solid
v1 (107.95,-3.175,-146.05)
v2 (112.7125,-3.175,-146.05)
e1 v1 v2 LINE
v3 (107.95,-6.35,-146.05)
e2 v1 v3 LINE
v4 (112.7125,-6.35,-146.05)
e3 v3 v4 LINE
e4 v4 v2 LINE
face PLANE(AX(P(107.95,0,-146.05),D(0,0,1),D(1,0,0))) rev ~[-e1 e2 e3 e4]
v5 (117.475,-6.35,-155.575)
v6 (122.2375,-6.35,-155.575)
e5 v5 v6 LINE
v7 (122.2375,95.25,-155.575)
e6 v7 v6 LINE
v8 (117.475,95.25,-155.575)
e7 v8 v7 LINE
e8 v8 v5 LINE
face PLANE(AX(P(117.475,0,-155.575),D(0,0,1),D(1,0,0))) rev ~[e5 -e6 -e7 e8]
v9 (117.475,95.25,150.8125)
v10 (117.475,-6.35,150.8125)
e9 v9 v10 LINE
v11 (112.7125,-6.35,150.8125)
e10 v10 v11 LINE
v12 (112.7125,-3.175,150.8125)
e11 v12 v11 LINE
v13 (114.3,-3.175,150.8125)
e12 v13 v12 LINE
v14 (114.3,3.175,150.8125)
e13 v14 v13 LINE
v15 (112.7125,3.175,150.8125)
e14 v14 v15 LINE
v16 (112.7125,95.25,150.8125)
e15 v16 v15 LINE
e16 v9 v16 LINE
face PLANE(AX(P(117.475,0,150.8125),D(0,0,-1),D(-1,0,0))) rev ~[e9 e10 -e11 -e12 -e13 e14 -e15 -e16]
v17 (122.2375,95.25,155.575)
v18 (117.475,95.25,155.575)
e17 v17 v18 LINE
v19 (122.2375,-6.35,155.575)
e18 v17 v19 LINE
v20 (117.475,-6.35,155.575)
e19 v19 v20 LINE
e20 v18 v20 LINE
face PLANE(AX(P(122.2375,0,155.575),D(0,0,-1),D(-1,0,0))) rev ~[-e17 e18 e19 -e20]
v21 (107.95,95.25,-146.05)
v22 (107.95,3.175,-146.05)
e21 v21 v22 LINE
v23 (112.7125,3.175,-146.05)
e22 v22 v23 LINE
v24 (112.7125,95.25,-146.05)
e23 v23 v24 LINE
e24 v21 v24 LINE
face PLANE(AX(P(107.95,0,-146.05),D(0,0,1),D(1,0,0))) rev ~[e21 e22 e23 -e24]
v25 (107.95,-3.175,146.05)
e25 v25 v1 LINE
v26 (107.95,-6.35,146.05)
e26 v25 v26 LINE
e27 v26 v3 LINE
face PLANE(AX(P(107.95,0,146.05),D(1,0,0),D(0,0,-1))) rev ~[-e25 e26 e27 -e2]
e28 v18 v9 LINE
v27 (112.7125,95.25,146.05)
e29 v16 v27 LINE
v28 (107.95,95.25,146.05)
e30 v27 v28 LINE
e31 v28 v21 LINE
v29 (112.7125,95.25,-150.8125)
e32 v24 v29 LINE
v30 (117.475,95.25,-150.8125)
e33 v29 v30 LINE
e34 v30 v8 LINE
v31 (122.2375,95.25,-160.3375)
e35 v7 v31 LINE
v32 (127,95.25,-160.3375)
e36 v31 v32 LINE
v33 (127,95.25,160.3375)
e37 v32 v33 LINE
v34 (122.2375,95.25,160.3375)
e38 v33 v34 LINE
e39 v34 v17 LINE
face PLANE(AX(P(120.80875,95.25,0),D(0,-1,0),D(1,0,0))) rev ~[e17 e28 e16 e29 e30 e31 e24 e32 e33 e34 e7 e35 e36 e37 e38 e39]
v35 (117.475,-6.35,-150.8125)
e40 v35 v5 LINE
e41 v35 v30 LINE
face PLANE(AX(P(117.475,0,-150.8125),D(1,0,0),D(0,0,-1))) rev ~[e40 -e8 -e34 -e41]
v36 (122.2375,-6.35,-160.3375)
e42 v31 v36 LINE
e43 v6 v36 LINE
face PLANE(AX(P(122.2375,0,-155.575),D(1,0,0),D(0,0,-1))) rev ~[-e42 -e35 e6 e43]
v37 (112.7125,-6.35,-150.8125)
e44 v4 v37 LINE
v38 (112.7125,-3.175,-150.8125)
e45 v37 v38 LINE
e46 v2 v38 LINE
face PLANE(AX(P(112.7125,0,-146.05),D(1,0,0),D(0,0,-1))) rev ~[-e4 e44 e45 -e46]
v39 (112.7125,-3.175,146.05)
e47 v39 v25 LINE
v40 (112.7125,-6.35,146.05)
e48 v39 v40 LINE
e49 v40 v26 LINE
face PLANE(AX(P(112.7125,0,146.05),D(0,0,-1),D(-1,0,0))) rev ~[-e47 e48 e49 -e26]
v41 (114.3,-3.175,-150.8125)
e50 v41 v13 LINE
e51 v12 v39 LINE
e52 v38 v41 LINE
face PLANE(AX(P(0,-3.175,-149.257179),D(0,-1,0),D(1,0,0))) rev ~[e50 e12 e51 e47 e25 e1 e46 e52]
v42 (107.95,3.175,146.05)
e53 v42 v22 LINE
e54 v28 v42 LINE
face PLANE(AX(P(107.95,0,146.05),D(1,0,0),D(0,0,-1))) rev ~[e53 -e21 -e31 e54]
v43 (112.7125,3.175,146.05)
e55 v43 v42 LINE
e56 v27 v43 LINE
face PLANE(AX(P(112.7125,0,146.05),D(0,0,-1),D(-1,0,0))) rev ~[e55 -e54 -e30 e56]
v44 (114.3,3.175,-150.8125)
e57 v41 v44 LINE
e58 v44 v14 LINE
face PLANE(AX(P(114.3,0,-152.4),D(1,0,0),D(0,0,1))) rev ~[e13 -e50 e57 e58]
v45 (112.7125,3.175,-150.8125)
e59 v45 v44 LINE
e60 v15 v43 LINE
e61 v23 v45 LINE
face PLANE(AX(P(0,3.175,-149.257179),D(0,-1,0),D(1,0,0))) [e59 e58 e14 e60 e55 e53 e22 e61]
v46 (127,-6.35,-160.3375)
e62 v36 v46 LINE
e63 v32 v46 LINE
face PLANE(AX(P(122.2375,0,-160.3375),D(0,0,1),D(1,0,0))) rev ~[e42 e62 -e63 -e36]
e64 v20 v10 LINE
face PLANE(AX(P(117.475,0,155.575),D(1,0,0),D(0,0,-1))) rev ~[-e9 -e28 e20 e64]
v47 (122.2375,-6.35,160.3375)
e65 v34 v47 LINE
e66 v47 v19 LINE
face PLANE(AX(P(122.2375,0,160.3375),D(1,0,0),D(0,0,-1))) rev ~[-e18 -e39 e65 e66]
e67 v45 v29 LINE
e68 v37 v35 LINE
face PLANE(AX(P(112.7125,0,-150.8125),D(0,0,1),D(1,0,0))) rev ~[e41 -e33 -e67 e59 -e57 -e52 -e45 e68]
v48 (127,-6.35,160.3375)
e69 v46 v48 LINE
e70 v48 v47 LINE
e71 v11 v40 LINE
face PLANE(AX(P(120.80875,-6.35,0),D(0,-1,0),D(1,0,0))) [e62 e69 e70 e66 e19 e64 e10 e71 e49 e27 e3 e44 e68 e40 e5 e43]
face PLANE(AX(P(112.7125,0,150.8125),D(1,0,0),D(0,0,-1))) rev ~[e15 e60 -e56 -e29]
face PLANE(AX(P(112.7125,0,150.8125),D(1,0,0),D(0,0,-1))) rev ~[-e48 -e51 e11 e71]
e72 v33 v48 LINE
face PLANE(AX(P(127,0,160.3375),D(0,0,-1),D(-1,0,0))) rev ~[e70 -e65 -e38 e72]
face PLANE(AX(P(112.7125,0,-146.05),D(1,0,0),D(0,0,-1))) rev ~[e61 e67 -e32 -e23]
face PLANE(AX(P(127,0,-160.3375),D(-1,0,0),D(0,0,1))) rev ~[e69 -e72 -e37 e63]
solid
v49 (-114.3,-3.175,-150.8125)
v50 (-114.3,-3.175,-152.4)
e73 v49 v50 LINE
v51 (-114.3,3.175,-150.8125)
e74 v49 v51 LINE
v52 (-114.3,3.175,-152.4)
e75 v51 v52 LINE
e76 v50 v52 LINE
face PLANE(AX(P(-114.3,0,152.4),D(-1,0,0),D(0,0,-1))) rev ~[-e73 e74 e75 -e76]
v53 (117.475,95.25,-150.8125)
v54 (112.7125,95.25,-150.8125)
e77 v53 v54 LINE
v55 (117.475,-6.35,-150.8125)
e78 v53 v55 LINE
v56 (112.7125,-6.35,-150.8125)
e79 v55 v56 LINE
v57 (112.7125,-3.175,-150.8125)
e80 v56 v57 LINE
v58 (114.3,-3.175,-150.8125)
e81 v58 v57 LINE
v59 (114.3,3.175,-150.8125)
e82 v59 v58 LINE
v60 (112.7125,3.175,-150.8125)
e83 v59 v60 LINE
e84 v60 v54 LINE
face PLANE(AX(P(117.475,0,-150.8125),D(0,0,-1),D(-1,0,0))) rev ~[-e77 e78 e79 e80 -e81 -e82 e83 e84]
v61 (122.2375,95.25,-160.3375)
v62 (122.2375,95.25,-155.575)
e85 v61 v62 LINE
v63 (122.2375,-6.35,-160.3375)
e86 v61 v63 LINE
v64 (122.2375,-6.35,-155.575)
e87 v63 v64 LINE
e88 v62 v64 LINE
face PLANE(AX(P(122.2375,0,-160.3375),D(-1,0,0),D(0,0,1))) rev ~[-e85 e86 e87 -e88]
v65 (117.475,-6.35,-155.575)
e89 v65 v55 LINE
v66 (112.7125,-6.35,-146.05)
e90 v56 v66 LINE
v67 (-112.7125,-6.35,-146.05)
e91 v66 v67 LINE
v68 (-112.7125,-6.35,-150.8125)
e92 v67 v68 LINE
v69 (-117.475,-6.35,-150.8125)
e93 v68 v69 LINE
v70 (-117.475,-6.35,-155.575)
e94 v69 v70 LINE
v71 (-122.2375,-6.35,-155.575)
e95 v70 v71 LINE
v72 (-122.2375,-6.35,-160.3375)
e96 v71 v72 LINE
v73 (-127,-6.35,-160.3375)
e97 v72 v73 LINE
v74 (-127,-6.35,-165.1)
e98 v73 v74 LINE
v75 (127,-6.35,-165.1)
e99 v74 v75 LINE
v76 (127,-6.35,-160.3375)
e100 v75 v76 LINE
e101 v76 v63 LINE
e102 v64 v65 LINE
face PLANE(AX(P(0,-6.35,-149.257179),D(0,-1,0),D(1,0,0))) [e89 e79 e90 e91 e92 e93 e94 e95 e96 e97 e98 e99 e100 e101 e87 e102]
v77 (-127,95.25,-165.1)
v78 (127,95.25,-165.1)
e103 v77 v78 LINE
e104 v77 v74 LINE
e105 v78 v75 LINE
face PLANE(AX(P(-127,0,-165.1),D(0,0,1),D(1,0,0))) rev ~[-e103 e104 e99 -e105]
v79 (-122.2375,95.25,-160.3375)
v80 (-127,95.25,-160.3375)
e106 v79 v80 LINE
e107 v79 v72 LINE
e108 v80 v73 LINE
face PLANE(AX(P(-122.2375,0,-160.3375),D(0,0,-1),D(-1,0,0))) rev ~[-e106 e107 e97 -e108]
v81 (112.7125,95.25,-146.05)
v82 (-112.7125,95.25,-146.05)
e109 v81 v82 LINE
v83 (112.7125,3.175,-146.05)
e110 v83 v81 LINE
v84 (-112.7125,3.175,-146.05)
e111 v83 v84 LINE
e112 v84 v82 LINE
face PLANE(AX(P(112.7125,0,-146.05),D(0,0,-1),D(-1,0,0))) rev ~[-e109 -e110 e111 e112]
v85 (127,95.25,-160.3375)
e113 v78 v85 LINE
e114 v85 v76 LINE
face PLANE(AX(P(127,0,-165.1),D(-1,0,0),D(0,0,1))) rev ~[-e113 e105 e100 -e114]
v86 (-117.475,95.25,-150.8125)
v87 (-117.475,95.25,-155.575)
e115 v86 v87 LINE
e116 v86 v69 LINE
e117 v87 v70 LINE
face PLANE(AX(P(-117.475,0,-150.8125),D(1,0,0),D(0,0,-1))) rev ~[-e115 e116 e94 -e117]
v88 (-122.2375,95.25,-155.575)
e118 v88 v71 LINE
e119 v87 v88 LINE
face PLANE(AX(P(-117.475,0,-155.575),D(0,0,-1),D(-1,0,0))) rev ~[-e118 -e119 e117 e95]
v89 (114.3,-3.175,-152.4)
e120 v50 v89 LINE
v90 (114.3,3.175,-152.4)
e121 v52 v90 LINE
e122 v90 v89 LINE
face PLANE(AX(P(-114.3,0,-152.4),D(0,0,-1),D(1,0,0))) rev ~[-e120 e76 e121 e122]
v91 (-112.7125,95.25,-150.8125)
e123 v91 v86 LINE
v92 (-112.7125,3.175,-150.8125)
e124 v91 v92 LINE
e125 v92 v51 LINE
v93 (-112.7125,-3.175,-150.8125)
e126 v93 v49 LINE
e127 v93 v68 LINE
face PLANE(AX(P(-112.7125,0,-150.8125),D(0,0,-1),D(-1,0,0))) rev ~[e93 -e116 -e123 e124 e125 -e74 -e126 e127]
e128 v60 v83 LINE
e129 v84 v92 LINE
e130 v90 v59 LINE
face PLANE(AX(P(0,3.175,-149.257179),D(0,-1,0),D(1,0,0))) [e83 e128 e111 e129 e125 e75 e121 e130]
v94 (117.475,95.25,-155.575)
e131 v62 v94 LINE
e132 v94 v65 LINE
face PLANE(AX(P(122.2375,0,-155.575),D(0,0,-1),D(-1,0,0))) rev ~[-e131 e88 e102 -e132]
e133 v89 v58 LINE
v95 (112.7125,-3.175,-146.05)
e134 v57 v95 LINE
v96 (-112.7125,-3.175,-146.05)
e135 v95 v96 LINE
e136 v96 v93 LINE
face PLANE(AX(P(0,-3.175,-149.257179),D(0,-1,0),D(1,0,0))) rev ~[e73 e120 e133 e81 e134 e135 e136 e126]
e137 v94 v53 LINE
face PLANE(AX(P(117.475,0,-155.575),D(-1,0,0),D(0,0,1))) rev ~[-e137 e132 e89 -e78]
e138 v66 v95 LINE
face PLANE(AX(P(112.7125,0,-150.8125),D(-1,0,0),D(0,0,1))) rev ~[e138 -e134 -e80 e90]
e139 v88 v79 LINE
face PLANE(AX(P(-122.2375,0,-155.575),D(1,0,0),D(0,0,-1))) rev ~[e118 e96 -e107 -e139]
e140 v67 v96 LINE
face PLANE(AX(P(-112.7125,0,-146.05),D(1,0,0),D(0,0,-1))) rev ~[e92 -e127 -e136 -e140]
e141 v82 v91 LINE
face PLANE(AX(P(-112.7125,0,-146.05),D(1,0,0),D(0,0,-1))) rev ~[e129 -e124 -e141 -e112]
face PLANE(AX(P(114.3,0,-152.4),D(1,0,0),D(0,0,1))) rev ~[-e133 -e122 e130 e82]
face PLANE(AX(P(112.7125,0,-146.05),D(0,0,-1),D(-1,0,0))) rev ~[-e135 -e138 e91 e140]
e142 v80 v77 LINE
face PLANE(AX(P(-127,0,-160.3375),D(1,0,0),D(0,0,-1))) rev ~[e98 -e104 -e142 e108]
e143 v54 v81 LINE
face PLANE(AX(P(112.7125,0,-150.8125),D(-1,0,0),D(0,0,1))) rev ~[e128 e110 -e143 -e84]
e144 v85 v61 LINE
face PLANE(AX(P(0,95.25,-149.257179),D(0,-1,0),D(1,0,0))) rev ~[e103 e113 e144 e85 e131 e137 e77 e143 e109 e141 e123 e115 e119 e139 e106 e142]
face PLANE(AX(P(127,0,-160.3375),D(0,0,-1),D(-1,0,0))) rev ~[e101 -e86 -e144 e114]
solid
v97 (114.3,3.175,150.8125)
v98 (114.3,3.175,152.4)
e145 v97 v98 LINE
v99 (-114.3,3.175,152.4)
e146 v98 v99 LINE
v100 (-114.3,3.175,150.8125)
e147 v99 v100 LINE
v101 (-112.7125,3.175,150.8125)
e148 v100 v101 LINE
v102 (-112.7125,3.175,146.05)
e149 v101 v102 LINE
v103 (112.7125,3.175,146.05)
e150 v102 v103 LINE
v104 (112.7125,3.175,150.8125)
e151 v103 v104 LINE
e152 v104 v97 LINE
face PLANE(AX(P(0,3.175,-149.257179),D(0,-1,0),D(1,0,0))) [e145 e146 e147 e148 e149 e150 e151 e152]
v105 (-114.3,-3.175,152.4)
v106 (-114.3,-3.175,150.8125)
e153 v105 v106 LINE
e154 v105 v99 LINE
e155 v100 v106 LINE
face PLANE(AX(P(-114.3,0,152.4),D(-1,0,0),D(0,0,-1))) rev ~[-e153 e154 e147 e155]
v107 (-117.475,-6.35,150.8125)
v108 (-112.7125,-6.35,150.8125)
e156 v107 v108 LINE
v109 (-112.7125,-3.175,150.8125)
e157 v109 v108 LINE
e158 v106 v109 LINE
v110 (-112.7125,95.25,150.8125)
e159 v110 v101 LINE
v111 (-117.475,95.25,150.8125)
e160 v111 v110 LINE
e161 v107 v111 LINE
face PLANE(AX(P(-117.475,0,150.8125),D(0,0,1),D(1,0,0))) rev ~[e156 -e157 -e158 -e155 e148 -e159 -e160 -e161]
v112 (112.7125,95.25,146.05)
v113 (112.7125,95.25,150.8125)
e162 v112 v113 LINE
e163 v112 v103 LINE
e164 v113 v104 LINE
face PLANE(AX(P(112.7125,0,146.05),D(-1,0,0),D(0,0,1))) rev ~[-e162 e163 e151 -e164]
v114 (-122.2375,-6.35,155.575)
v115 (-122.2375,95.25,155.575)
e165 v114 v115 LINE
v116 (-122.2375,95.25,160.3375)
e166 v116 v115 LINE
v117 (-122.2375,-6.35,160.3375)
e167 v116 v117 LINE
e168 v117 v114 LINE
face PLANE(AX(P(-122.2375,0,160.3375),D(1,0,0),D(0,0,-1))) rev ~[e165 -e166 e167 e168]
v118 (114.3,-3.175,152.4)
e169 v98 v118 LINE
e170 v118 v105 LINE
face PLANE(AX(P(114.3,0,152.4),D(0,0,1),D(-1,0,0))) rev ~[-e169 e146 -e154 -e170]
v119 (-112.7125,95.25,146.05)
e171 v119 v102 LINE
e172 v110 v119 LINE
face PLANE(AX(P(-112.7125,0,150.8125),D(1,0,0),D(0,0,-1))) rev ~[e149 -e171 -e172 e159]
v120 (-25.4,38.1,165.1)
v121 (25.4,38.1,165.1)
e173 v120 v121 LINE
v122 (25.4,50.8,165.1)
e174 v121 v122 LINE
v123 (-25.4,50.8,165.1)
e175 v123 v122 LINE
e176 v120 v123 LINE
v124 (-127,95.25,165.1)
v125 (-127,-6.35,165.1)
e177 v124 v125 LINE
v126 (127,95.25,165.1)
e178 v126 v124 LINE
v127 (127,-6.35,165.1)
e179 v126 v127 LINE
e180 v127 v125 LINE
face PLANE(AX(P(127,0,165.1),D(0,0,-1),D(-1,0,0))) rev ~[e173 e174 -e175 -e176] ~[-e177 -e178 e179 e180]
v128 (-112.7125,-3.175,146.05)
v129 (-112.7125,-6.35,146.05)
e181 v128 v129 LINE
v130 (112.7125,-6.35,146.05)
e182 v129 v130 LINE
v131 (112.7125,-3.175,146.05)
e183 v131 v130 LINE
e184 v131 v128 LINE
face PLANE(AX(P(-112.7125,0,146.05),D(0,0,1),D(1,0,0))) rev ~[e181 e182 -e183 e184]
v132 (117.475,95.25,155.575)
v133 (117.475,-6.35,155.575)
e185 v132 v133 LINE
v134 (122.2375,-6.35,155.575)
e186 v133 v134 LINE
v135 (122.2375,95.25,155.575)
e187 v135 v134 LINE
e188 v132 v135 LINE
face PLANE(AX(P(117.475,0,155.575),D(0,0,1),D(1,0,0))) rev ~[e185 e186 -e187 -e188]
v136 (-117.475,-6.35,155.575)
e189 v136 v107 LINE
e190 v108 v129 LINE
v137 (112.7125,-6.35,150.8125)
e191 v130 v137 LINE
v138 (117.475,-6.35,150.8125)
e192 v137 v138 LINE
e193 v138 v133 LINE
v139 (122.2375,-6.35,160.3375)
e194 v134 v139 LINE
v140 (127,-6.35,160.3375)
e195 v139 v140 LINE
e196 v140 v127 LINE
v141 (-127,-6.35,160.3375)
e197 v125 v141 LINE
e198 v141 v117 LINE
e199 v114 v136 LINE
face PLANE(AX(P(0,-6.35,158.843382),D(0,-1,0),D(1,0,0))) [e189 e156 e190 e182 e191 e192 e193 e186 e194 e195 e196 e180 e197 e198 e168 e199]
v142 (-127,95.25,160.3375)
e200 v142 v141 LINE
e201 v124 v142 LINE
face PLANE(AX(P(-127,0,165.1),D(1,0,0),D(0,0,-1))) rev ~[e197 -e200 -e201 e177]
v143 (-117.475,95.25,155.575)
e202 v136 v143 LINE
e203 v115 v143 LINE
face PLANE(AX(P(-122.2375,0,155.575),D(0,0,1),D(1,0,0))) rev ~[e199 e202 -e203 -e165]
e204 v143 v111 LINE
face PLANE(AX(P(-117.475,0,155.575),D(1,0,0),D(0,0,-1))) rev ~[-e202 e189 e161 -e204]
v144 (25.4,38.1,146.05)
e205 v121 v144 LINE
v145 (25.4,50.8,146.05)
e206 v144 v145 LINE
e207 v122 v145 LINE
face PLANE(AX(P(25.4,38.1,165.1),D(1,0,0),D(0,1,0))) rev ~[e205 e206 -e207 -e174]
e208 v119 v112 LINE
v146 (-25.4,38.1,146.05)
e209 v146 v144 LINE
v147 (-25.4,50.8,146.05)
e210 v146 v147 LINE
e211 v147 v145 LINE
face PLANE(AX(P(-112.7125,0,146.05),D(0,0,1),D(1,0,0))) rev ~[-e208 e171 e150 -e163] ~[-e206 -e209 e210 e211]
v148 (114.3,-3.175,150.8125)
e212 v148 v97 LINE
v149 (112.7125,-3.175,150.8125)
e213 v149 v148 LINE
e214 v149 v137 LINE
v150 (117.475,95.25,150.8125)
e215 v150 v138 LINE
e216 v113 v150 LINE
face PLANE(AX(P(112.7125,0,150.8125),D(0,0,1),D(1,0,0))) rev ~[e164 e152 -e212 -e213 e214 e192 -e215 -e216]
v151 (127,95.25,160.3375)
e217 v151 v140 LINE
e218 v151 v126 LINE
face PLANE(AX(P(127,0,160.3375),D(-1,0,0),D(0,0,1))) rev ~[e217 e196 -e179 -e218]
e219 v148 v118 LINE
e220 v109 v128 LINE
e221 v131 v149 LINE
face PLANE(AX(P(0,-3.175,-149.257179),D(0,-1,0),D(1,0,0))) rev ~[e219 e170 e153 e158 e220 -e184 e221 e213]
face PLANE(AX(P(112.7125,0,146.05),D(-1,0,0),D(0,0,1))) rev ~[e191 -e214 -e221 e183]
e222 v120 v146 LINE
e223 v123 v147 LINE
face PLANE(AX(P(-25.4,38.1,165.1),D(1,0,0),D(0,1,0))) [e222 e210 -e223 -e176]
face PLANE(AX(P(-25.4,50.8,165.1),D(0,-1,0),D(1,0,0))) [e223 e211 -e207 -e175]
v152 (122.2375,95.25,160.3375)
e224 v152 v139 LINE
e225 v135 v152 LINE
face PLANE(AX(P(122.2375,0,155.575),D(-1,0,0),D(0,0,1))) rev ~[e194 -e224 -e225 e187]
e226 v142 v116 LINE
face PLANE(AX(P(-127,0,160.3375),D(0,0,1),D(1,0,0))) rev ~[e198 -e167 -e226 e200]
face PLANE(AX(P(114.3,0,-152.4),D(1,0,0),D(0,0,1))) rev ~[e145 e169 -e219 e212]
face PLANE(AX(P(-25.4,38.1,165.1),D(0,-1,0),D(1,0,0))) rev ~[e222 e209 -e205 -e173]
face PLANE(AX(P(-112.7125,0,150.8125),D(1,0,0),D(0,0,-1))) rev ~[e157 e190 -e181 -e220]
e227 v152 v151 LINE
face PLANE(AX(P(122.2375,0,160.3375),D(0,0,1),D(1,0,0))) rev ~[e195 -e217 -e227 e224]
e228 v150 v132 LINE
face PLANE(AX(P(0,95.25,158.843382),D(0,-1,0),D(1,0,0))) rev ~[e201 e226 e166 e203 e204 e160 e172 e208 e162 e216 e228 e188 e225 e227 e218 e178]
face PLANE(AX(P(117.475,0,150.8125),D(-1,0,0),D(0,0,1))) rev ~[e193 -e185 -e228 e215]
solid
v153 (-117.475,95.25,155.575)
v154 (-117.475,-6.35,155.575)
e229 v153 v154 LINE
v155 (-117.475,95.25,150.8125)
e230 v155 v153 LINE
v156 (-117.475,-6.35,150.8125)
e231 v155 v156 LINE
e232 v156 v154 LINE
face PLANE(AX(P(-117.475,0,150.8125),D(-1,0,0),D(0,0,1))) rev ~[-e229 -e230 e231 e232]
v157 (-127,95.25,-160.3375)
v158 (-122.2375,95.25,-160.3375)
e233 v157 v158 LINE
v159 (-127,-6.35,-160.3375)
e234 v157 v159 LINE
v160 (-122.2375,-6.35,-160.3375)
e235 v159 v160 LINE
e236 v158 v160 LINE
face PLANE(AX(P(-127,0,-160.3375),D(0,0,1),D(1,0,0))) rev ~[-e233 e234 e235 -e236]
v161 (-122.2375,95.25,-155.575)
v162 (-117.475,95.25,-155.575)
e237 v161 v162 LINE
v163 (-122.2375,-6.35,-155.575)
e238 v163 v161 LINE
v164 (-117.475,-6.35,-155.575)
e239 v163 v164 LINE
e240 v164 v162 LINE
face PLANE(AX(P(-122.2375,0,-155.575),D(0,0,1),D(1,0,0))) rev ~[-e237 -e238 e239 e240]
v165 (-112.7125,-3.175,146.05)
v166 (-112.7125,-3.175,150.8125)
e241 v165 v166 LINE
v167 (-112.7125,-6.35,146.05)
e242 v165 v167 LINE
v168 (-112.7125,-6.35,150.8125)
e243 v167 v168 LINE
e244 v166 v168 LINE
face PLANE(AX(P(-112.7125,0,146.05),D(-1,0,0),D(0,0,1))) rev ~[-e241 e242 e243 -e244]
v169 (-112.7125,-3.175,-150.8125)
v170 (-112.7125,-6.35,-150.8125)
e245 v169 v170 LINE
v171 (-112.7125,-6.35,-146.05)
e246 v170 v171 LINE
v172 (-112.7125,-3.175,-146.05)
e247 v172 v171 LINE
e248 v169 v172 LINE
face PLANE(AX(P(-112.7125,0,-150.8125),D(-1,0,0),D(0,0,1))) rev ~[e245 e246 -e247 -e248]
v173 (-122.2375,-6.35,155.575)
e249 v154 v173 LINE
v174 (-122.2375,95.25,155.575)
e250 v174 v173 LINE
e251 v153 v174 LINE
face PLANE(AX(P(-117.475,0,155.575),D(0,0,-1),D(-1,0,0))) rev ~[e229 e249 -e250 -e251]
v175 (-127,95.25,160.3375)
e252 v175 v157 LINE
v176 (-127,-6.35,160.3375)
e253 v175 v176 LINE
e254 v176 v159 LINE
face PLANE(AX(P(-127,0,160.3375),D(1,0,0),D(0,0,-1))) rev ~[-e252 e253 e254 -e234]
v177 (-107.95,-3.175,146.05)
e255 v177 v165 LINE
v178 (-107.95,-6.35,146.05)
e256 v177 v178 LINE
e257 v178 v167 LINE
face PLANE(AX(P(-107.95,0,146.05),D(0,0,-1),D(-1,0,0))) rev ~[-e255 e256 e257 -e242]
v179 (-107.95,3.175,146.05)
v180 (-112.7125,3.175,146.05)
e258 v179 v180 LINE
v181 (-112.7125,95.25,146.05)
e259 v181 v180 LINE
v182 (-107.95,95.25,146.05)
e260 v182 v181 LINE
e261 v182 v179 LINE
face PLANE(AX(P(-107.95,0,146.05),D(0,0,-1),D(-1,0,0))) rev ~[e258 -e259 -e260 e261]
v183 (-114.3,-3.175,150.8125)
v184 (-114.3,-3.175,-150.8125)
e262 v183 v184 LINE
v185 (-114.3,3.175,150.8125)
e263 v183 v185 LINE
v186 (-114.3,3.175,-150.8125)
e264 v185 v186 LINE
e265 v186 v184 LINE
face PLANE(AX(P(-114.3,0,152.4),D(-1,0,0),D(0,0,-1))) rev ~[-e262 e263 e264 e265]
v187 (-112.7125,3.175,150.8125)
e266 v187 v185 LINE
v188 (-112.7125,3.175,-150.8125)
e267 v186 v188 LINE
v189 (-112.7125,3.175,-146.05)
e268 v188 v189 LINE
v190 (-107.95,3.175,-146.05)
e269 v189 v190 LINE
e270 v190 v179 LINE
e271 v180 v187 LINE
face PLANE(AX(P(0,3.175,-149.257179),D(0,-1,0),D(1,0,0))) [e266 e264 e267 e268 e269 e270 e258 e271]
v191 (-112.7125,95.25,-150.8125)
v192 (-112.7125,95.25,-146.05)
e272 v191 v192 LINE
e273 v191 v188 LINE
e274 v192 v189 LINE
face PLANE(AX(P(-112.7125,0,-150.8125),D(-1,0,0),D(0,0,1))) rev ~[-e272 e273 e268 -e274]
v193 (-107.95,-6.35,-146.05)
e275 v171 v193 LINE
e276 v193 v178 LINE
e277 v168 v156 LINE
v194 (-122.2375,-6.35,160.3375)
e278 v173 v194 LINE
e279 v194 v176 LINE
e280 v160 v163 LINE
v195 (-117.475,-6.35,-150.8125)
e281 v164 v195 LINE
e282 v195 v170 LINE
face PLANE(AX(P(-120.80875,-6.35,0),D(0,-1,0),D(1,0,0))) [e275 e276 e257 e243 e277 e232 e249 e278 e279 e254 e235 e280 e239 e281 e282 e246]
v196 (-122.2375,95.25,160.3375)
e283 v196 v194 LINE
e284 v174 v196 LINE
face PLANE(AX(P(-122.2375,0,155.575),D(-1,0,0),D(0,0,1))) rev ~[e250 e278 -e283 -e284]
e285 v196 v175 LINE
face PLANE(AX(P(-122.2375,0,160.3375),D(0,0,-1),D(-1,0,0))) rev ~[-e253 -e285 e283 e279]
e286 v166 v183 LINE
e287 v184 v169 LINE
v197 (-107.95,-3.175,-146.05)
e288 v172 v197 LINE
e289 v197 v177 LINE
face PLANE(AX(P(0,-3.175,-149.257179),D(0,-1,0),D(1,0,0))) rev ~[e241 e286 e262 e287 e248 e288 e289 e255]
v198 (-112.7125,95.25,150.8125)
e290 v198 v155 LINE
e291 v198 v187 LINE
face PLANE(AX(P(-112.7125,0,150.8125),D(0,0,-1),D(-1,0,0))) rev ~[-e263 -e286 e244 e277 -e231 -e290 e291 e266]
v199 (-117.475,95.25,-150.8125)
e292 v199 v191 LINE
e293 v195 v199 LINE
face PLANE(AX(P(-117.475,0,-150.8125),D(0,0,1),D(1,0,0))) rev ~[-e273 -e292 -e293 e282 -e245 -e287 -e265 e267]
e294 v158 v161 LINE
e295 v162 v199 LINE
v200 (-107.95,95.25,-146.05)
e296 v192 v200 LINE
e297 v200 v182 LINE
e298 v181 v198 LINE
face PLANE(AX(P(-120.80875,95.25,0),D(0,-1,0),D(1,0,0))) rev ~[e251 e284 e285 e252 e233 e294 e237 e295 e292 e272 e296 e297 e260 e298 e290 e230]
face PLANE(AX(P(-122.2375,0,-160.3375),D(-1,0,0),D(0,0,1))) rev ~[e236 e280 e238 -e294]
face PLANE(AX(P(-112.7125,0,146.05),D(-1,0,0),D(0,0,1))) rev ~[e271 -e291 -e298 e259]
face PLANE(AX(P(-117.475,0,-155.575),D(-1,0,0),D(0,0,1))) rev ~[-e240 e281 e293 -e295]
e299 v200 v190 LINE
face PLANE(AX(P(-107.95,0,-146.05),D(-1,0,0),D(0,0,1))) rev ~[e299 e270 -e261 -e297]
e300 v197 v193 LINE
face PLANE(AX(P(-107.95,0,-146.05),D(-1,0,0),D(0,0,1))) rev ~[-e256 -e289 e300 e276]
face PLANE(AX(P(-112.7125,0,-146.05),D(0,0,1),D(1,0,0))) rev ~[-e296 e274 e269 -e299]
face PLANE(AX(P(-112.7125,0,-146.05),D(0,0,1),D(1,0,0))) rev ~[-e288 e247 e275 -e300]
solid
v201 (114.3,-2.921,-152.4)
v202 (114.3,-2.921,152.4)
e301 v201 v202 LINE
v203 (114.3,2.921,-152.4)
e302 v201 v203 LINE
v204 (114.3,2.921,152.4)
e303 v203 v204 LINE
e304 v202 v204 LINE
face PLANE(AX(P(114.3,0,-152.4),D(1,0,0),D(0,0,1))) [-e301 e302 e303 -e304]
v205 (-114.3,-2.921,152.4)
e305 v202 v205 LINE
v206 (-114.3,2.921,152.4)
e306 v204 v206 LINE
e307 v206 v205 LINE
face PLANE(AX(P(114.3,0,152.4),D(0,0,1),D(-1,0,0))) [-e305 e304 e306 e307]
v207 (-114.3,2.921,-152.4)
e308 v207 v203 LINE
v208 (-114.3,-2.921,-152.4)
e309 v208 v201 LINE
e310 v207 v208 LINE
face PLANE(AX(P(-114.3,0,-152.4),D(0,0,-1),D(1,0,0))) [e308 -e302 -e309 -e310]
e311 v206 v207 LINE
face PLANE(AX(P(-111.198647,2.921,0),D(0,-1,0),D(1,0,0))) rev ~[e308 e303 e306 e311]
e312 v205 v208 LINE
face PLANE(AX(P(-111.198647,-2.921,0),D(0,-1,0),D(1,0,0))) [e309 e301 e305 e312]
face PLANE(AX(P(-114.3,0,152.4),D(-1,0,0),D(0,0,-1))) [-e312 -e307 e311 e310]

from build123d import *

# Parameters (mm, degrees)
F1_DEPTH      = 95.25
F1_DEPTH_BACK = 6.35
F2_DEPTH      = 95.25
F2_DEPTH_BACK = 6.35
F3_DEPTH      = 3.175
F4_DEPTH      = 2.921
F5_W          = 50.8
F5_H          = 12.7
F6_DEPTH      = 25.4


with BuildPart() as f1:
    # F0 (on Front) → F1 (new body, two sides)
    with BuildSketch(Plane.XZ) as f1_sk:
        Polygon((-117.475, -150.8125), (-114.3, -150.8125), (-114.3, 150.8125), (-117.475, 150.8125), (-117.475, 155.575), (-122.2375, 155.575), (-122.2375, 160.3375), (-127, 160.3375), (-127, 0), (-127, -160.3375), (-122.2375, -160.3375), (-122.2375, -155.575), (-117.475, -155.575), align=None)
        Polygon((-107.95, -146.05), (-107.95, 0), (-107.95, 146.05), (-112.7125, 146.05), (-112.7125, 150.8125), (-114.3, 150.8125), (-114.3, -150.8125), (-112.7125, -150.8125), (-112.7125, -146.05), align=None)
    extrude(amount=-F1_DEPTH)
    extrude(f1_sk.sketch, amount=F1_DEPTH_BACK)


with BuildPart() as f1b:
    # F0 (on Front) → F1, piece 2 (new body, two sides)
    with BuildSketch(Plane.XZ) as f1_2_sk:
        Polygon((114.3, 150.8125), (114.3, -150.8125), (117.475, -150.8125), (117.475, -155.575), (122.2375, -155.575), (122.2375, -160.3375), (127, -160.3375), (127, 0), (127, 160.3375), (122.2375, 160.3375), (122.2375, 155.575), (117.475, 155.575), (117.475, 150.8125), align=None)
        Polygon((107.95, 0), (107.95, -146.05), (112.7125, -146.05), (112.7125, -150.8125), (114.3, -150.8125), (114.3, 150.8125), (112.7125, 150.8125), (112.7125, 146.05), (107.95, 146.05), align=None)
    extrude(amount=-F1_DEPTH)
    extrude(f1_2_sk.sketch, amount=F1_DEPTH_BACK)


with BuildPart() as f2:
    # F0 (on Front) → F2 (new body, two sides)
    with BuildSketch(Plane.XZ) as f2_sk:
        Polygon((-117.475, 150.8125), (-114.3, 150.8125), (-114.3, 152.4), (114.3, 152.4), (114.3, 150.8125), (117.475, 150.8125), (117.475, 155.575), (122.2375, 155.575), (122.2375, 160.3375), (127, 160.3375), (127, 165.1), (0, 165.1), (-127, 165.1), (-127, 160.3375), (-122.2375, 160.3375), (-122.2375, 155.575), (-117.475, 155.575), align=None)
        Polygon((-112.7125, 146.05), (-107.95, 146.05), (0, 146.05), (107.95, 146.05), (112.7125, 146.05), (112.7125, 150.8125), (114.3, 150.8125), (114.3, 152.4), (-114.3, 152.4), (-114.3, 150.8125), (-112.7125, 150.8125), align=None)
    extrude(amount=-F2_DEPTH)
    extrude(f2_sk.sketch, amount=F2_DEPTH_BACK)


with BuildPart() as f2b:
    # F0 (on Front) → F2, piece 2 (new body, two sides)
    with BuildSketch(Plane.XZ) as f2_2_sk:
        Polygon((0, -146.05), (-107.95, -146.05), (-112.7125, -146.05), (-112.7125, -150.8125), (-114.3, -150.8125), (-114.3, -152.4), (114.3, -152.4), (114.3, -150.8125), (112.7125, -150.8125), (112.7125, -146.05), (107.95, -146.05), align=None)
        Polygon((-114.3, -152.4), (-114.3, -150.8125), (-117.475, -150.8125), (-117.475, -155.575), (-122.2375, -155.575), (-122.2375, -160.3375), (-127, -160.3375), (-127, -165.1), (0, -165.1), (127, -165.1), (127, -160.3375), (122.2375, -160.3375), (122.2375, -155.575), (117.475, -155.575), (117.475, -150.8125), (114.3, -150.8125), (114.3, -152.4), align=None)
    extrude(amount=-F2_DEPTH)
    extrude(f2_2_sk.sketch, amount=F2_DEPTH_BACK)


with BuildPart() as f3_tool:
    # F0 (on Front) → F3 (new body, symmetric)
    with BuildSketch(Plane.XZ):
        Polygon((0, -146.05), (-107.95, -146.05), (-112.7125, -146.05), (-112.7125, -150.8125), (-114.3, -150.8125), (-114.3, -152.4), (114.3, -152.4), (114.3, -150.8125), (112.7125, -150.8125), (112.7125, -146.05), (107.95, -146.05), align=None)
        Polygon((-107.95, -146.05), (-107.95, 0), (-107.95, 146.05), (-112.7125, 146.05), (-112.7125, 150.8125), (-114.3, 150.8125), (-114.3, -150.8125), (-112.7125, -150.8125), (-112.7125, -146.05), align=None)
        Polygon((107.95, 0), (107.95, -146.05), (112.7125, -146.05), (112.7125, -150.8125), (114.3, -150.8125), (114.3, 150.8125), (112.7125, 150.8125), (112.7125, 146.05), (107.95, 146.05), align=None)
        Polygon((-112.7125, 146.05), (-107.95, 146.05), (0, 146.05), (107.95, 146.05), (112.7125, 146.05), (112.7125, 150.8125), (114.3, 150.8125), (114.3, 152.4), (-114.3, 152.4), (-114.3, 150.8125), (-112.7125, 150.8125), align=None)
    extrude(amount=F3_DEPTH, both=True)


with BuildPart() as f1_1:
    add(f1.part)

    # F3: cut by f3_tool
    add(f3_tool.part, mode=Mode.SUBTRACT)


with BuildPart() as f1b_1:
    add(f1b.part)

    # F3: cut by f3_tool
    add(f3_tool.part, mode=Mode.SUBTRACT)


with BuildPart() as f2_1:
    add(f2.part)

    # F3: cut by f3_tool
    add(f3_tool.part, mode=Mode.SUBTRACT)

    # F5 (on face) → F6 (cut)
    with BuildSketch(Plane.XY.offset(165.1)):
        with Locations((0, 44.45)):
            Rectangle(F5_W, F5_H)
    extrude(amount=-F6_DEPTH, mode=Mode.SUBTRACT)


with BuildPart() as f2b_1:
    add(f2b.part)

    # F3: cut by f3_tool
    add(f3_tool.part, mode=Mode.SUBTRACT)


with BuildPart() as f4:
    # F0 (on Front) → F4 (new body, symmetric)
    with BuildSketch(Plane.XZ):
        Polygon((-107.95, -146.05), (-107.95, 0), (-107.95, 146.05), (-112.7125, 146.05), (-112.7125, 150.8125), (-114.3, 150.8125), (-114.3, -150.8125), (-112.7125, -150.8125), (-112.7125, -146.05), align=None)
        Polygon((-107.95, 146.05), (-107.95, 0), (-107.95, -146.05), (0, -146.05), (107.95, -146.05), (107.95, 0), (107.95, 146.05), (0, 146.05), align=None)
        Polygon((-112.7125, 146.05), (-107.95, 146.05), (0, 146.05), (107.95, 146.05), (112.7125, 146.05), (112.7125, 150.8125), (114.3, 150.8125), (114.3, 152.4), (-114.3, 152.4), (-114.3, 150.8125), (-112.7125, 150.8125), align=None)
        Polygon((107.95, 0), (107.95, -146.05), (112.7125, -146.05), (112.7125, -150.8125), (114.3, -150.8125), (114.3, 150.8125), (112.7125, 150.8125), (112.7125, 146.05), (107.95, 146.05), align=None)
        Polygon((0, -146.05), (-107.95, -146.05), (-112.7125, -146.05), (-112.7125, -150.8125), (-114.3, -150.8125), (-114.3, -152.4), (114.3, -152.4), (114.3, -150.8125), (112.7125, -150.8125), (112.7125, -146.05), (107.95, -146.05), align=None)
    extrude(amount=F4_DEPTH, both=True)


solid = Compound([f1_1.part, f1b_1.part, f2_1.part, f2b_1.part, f4.part])
